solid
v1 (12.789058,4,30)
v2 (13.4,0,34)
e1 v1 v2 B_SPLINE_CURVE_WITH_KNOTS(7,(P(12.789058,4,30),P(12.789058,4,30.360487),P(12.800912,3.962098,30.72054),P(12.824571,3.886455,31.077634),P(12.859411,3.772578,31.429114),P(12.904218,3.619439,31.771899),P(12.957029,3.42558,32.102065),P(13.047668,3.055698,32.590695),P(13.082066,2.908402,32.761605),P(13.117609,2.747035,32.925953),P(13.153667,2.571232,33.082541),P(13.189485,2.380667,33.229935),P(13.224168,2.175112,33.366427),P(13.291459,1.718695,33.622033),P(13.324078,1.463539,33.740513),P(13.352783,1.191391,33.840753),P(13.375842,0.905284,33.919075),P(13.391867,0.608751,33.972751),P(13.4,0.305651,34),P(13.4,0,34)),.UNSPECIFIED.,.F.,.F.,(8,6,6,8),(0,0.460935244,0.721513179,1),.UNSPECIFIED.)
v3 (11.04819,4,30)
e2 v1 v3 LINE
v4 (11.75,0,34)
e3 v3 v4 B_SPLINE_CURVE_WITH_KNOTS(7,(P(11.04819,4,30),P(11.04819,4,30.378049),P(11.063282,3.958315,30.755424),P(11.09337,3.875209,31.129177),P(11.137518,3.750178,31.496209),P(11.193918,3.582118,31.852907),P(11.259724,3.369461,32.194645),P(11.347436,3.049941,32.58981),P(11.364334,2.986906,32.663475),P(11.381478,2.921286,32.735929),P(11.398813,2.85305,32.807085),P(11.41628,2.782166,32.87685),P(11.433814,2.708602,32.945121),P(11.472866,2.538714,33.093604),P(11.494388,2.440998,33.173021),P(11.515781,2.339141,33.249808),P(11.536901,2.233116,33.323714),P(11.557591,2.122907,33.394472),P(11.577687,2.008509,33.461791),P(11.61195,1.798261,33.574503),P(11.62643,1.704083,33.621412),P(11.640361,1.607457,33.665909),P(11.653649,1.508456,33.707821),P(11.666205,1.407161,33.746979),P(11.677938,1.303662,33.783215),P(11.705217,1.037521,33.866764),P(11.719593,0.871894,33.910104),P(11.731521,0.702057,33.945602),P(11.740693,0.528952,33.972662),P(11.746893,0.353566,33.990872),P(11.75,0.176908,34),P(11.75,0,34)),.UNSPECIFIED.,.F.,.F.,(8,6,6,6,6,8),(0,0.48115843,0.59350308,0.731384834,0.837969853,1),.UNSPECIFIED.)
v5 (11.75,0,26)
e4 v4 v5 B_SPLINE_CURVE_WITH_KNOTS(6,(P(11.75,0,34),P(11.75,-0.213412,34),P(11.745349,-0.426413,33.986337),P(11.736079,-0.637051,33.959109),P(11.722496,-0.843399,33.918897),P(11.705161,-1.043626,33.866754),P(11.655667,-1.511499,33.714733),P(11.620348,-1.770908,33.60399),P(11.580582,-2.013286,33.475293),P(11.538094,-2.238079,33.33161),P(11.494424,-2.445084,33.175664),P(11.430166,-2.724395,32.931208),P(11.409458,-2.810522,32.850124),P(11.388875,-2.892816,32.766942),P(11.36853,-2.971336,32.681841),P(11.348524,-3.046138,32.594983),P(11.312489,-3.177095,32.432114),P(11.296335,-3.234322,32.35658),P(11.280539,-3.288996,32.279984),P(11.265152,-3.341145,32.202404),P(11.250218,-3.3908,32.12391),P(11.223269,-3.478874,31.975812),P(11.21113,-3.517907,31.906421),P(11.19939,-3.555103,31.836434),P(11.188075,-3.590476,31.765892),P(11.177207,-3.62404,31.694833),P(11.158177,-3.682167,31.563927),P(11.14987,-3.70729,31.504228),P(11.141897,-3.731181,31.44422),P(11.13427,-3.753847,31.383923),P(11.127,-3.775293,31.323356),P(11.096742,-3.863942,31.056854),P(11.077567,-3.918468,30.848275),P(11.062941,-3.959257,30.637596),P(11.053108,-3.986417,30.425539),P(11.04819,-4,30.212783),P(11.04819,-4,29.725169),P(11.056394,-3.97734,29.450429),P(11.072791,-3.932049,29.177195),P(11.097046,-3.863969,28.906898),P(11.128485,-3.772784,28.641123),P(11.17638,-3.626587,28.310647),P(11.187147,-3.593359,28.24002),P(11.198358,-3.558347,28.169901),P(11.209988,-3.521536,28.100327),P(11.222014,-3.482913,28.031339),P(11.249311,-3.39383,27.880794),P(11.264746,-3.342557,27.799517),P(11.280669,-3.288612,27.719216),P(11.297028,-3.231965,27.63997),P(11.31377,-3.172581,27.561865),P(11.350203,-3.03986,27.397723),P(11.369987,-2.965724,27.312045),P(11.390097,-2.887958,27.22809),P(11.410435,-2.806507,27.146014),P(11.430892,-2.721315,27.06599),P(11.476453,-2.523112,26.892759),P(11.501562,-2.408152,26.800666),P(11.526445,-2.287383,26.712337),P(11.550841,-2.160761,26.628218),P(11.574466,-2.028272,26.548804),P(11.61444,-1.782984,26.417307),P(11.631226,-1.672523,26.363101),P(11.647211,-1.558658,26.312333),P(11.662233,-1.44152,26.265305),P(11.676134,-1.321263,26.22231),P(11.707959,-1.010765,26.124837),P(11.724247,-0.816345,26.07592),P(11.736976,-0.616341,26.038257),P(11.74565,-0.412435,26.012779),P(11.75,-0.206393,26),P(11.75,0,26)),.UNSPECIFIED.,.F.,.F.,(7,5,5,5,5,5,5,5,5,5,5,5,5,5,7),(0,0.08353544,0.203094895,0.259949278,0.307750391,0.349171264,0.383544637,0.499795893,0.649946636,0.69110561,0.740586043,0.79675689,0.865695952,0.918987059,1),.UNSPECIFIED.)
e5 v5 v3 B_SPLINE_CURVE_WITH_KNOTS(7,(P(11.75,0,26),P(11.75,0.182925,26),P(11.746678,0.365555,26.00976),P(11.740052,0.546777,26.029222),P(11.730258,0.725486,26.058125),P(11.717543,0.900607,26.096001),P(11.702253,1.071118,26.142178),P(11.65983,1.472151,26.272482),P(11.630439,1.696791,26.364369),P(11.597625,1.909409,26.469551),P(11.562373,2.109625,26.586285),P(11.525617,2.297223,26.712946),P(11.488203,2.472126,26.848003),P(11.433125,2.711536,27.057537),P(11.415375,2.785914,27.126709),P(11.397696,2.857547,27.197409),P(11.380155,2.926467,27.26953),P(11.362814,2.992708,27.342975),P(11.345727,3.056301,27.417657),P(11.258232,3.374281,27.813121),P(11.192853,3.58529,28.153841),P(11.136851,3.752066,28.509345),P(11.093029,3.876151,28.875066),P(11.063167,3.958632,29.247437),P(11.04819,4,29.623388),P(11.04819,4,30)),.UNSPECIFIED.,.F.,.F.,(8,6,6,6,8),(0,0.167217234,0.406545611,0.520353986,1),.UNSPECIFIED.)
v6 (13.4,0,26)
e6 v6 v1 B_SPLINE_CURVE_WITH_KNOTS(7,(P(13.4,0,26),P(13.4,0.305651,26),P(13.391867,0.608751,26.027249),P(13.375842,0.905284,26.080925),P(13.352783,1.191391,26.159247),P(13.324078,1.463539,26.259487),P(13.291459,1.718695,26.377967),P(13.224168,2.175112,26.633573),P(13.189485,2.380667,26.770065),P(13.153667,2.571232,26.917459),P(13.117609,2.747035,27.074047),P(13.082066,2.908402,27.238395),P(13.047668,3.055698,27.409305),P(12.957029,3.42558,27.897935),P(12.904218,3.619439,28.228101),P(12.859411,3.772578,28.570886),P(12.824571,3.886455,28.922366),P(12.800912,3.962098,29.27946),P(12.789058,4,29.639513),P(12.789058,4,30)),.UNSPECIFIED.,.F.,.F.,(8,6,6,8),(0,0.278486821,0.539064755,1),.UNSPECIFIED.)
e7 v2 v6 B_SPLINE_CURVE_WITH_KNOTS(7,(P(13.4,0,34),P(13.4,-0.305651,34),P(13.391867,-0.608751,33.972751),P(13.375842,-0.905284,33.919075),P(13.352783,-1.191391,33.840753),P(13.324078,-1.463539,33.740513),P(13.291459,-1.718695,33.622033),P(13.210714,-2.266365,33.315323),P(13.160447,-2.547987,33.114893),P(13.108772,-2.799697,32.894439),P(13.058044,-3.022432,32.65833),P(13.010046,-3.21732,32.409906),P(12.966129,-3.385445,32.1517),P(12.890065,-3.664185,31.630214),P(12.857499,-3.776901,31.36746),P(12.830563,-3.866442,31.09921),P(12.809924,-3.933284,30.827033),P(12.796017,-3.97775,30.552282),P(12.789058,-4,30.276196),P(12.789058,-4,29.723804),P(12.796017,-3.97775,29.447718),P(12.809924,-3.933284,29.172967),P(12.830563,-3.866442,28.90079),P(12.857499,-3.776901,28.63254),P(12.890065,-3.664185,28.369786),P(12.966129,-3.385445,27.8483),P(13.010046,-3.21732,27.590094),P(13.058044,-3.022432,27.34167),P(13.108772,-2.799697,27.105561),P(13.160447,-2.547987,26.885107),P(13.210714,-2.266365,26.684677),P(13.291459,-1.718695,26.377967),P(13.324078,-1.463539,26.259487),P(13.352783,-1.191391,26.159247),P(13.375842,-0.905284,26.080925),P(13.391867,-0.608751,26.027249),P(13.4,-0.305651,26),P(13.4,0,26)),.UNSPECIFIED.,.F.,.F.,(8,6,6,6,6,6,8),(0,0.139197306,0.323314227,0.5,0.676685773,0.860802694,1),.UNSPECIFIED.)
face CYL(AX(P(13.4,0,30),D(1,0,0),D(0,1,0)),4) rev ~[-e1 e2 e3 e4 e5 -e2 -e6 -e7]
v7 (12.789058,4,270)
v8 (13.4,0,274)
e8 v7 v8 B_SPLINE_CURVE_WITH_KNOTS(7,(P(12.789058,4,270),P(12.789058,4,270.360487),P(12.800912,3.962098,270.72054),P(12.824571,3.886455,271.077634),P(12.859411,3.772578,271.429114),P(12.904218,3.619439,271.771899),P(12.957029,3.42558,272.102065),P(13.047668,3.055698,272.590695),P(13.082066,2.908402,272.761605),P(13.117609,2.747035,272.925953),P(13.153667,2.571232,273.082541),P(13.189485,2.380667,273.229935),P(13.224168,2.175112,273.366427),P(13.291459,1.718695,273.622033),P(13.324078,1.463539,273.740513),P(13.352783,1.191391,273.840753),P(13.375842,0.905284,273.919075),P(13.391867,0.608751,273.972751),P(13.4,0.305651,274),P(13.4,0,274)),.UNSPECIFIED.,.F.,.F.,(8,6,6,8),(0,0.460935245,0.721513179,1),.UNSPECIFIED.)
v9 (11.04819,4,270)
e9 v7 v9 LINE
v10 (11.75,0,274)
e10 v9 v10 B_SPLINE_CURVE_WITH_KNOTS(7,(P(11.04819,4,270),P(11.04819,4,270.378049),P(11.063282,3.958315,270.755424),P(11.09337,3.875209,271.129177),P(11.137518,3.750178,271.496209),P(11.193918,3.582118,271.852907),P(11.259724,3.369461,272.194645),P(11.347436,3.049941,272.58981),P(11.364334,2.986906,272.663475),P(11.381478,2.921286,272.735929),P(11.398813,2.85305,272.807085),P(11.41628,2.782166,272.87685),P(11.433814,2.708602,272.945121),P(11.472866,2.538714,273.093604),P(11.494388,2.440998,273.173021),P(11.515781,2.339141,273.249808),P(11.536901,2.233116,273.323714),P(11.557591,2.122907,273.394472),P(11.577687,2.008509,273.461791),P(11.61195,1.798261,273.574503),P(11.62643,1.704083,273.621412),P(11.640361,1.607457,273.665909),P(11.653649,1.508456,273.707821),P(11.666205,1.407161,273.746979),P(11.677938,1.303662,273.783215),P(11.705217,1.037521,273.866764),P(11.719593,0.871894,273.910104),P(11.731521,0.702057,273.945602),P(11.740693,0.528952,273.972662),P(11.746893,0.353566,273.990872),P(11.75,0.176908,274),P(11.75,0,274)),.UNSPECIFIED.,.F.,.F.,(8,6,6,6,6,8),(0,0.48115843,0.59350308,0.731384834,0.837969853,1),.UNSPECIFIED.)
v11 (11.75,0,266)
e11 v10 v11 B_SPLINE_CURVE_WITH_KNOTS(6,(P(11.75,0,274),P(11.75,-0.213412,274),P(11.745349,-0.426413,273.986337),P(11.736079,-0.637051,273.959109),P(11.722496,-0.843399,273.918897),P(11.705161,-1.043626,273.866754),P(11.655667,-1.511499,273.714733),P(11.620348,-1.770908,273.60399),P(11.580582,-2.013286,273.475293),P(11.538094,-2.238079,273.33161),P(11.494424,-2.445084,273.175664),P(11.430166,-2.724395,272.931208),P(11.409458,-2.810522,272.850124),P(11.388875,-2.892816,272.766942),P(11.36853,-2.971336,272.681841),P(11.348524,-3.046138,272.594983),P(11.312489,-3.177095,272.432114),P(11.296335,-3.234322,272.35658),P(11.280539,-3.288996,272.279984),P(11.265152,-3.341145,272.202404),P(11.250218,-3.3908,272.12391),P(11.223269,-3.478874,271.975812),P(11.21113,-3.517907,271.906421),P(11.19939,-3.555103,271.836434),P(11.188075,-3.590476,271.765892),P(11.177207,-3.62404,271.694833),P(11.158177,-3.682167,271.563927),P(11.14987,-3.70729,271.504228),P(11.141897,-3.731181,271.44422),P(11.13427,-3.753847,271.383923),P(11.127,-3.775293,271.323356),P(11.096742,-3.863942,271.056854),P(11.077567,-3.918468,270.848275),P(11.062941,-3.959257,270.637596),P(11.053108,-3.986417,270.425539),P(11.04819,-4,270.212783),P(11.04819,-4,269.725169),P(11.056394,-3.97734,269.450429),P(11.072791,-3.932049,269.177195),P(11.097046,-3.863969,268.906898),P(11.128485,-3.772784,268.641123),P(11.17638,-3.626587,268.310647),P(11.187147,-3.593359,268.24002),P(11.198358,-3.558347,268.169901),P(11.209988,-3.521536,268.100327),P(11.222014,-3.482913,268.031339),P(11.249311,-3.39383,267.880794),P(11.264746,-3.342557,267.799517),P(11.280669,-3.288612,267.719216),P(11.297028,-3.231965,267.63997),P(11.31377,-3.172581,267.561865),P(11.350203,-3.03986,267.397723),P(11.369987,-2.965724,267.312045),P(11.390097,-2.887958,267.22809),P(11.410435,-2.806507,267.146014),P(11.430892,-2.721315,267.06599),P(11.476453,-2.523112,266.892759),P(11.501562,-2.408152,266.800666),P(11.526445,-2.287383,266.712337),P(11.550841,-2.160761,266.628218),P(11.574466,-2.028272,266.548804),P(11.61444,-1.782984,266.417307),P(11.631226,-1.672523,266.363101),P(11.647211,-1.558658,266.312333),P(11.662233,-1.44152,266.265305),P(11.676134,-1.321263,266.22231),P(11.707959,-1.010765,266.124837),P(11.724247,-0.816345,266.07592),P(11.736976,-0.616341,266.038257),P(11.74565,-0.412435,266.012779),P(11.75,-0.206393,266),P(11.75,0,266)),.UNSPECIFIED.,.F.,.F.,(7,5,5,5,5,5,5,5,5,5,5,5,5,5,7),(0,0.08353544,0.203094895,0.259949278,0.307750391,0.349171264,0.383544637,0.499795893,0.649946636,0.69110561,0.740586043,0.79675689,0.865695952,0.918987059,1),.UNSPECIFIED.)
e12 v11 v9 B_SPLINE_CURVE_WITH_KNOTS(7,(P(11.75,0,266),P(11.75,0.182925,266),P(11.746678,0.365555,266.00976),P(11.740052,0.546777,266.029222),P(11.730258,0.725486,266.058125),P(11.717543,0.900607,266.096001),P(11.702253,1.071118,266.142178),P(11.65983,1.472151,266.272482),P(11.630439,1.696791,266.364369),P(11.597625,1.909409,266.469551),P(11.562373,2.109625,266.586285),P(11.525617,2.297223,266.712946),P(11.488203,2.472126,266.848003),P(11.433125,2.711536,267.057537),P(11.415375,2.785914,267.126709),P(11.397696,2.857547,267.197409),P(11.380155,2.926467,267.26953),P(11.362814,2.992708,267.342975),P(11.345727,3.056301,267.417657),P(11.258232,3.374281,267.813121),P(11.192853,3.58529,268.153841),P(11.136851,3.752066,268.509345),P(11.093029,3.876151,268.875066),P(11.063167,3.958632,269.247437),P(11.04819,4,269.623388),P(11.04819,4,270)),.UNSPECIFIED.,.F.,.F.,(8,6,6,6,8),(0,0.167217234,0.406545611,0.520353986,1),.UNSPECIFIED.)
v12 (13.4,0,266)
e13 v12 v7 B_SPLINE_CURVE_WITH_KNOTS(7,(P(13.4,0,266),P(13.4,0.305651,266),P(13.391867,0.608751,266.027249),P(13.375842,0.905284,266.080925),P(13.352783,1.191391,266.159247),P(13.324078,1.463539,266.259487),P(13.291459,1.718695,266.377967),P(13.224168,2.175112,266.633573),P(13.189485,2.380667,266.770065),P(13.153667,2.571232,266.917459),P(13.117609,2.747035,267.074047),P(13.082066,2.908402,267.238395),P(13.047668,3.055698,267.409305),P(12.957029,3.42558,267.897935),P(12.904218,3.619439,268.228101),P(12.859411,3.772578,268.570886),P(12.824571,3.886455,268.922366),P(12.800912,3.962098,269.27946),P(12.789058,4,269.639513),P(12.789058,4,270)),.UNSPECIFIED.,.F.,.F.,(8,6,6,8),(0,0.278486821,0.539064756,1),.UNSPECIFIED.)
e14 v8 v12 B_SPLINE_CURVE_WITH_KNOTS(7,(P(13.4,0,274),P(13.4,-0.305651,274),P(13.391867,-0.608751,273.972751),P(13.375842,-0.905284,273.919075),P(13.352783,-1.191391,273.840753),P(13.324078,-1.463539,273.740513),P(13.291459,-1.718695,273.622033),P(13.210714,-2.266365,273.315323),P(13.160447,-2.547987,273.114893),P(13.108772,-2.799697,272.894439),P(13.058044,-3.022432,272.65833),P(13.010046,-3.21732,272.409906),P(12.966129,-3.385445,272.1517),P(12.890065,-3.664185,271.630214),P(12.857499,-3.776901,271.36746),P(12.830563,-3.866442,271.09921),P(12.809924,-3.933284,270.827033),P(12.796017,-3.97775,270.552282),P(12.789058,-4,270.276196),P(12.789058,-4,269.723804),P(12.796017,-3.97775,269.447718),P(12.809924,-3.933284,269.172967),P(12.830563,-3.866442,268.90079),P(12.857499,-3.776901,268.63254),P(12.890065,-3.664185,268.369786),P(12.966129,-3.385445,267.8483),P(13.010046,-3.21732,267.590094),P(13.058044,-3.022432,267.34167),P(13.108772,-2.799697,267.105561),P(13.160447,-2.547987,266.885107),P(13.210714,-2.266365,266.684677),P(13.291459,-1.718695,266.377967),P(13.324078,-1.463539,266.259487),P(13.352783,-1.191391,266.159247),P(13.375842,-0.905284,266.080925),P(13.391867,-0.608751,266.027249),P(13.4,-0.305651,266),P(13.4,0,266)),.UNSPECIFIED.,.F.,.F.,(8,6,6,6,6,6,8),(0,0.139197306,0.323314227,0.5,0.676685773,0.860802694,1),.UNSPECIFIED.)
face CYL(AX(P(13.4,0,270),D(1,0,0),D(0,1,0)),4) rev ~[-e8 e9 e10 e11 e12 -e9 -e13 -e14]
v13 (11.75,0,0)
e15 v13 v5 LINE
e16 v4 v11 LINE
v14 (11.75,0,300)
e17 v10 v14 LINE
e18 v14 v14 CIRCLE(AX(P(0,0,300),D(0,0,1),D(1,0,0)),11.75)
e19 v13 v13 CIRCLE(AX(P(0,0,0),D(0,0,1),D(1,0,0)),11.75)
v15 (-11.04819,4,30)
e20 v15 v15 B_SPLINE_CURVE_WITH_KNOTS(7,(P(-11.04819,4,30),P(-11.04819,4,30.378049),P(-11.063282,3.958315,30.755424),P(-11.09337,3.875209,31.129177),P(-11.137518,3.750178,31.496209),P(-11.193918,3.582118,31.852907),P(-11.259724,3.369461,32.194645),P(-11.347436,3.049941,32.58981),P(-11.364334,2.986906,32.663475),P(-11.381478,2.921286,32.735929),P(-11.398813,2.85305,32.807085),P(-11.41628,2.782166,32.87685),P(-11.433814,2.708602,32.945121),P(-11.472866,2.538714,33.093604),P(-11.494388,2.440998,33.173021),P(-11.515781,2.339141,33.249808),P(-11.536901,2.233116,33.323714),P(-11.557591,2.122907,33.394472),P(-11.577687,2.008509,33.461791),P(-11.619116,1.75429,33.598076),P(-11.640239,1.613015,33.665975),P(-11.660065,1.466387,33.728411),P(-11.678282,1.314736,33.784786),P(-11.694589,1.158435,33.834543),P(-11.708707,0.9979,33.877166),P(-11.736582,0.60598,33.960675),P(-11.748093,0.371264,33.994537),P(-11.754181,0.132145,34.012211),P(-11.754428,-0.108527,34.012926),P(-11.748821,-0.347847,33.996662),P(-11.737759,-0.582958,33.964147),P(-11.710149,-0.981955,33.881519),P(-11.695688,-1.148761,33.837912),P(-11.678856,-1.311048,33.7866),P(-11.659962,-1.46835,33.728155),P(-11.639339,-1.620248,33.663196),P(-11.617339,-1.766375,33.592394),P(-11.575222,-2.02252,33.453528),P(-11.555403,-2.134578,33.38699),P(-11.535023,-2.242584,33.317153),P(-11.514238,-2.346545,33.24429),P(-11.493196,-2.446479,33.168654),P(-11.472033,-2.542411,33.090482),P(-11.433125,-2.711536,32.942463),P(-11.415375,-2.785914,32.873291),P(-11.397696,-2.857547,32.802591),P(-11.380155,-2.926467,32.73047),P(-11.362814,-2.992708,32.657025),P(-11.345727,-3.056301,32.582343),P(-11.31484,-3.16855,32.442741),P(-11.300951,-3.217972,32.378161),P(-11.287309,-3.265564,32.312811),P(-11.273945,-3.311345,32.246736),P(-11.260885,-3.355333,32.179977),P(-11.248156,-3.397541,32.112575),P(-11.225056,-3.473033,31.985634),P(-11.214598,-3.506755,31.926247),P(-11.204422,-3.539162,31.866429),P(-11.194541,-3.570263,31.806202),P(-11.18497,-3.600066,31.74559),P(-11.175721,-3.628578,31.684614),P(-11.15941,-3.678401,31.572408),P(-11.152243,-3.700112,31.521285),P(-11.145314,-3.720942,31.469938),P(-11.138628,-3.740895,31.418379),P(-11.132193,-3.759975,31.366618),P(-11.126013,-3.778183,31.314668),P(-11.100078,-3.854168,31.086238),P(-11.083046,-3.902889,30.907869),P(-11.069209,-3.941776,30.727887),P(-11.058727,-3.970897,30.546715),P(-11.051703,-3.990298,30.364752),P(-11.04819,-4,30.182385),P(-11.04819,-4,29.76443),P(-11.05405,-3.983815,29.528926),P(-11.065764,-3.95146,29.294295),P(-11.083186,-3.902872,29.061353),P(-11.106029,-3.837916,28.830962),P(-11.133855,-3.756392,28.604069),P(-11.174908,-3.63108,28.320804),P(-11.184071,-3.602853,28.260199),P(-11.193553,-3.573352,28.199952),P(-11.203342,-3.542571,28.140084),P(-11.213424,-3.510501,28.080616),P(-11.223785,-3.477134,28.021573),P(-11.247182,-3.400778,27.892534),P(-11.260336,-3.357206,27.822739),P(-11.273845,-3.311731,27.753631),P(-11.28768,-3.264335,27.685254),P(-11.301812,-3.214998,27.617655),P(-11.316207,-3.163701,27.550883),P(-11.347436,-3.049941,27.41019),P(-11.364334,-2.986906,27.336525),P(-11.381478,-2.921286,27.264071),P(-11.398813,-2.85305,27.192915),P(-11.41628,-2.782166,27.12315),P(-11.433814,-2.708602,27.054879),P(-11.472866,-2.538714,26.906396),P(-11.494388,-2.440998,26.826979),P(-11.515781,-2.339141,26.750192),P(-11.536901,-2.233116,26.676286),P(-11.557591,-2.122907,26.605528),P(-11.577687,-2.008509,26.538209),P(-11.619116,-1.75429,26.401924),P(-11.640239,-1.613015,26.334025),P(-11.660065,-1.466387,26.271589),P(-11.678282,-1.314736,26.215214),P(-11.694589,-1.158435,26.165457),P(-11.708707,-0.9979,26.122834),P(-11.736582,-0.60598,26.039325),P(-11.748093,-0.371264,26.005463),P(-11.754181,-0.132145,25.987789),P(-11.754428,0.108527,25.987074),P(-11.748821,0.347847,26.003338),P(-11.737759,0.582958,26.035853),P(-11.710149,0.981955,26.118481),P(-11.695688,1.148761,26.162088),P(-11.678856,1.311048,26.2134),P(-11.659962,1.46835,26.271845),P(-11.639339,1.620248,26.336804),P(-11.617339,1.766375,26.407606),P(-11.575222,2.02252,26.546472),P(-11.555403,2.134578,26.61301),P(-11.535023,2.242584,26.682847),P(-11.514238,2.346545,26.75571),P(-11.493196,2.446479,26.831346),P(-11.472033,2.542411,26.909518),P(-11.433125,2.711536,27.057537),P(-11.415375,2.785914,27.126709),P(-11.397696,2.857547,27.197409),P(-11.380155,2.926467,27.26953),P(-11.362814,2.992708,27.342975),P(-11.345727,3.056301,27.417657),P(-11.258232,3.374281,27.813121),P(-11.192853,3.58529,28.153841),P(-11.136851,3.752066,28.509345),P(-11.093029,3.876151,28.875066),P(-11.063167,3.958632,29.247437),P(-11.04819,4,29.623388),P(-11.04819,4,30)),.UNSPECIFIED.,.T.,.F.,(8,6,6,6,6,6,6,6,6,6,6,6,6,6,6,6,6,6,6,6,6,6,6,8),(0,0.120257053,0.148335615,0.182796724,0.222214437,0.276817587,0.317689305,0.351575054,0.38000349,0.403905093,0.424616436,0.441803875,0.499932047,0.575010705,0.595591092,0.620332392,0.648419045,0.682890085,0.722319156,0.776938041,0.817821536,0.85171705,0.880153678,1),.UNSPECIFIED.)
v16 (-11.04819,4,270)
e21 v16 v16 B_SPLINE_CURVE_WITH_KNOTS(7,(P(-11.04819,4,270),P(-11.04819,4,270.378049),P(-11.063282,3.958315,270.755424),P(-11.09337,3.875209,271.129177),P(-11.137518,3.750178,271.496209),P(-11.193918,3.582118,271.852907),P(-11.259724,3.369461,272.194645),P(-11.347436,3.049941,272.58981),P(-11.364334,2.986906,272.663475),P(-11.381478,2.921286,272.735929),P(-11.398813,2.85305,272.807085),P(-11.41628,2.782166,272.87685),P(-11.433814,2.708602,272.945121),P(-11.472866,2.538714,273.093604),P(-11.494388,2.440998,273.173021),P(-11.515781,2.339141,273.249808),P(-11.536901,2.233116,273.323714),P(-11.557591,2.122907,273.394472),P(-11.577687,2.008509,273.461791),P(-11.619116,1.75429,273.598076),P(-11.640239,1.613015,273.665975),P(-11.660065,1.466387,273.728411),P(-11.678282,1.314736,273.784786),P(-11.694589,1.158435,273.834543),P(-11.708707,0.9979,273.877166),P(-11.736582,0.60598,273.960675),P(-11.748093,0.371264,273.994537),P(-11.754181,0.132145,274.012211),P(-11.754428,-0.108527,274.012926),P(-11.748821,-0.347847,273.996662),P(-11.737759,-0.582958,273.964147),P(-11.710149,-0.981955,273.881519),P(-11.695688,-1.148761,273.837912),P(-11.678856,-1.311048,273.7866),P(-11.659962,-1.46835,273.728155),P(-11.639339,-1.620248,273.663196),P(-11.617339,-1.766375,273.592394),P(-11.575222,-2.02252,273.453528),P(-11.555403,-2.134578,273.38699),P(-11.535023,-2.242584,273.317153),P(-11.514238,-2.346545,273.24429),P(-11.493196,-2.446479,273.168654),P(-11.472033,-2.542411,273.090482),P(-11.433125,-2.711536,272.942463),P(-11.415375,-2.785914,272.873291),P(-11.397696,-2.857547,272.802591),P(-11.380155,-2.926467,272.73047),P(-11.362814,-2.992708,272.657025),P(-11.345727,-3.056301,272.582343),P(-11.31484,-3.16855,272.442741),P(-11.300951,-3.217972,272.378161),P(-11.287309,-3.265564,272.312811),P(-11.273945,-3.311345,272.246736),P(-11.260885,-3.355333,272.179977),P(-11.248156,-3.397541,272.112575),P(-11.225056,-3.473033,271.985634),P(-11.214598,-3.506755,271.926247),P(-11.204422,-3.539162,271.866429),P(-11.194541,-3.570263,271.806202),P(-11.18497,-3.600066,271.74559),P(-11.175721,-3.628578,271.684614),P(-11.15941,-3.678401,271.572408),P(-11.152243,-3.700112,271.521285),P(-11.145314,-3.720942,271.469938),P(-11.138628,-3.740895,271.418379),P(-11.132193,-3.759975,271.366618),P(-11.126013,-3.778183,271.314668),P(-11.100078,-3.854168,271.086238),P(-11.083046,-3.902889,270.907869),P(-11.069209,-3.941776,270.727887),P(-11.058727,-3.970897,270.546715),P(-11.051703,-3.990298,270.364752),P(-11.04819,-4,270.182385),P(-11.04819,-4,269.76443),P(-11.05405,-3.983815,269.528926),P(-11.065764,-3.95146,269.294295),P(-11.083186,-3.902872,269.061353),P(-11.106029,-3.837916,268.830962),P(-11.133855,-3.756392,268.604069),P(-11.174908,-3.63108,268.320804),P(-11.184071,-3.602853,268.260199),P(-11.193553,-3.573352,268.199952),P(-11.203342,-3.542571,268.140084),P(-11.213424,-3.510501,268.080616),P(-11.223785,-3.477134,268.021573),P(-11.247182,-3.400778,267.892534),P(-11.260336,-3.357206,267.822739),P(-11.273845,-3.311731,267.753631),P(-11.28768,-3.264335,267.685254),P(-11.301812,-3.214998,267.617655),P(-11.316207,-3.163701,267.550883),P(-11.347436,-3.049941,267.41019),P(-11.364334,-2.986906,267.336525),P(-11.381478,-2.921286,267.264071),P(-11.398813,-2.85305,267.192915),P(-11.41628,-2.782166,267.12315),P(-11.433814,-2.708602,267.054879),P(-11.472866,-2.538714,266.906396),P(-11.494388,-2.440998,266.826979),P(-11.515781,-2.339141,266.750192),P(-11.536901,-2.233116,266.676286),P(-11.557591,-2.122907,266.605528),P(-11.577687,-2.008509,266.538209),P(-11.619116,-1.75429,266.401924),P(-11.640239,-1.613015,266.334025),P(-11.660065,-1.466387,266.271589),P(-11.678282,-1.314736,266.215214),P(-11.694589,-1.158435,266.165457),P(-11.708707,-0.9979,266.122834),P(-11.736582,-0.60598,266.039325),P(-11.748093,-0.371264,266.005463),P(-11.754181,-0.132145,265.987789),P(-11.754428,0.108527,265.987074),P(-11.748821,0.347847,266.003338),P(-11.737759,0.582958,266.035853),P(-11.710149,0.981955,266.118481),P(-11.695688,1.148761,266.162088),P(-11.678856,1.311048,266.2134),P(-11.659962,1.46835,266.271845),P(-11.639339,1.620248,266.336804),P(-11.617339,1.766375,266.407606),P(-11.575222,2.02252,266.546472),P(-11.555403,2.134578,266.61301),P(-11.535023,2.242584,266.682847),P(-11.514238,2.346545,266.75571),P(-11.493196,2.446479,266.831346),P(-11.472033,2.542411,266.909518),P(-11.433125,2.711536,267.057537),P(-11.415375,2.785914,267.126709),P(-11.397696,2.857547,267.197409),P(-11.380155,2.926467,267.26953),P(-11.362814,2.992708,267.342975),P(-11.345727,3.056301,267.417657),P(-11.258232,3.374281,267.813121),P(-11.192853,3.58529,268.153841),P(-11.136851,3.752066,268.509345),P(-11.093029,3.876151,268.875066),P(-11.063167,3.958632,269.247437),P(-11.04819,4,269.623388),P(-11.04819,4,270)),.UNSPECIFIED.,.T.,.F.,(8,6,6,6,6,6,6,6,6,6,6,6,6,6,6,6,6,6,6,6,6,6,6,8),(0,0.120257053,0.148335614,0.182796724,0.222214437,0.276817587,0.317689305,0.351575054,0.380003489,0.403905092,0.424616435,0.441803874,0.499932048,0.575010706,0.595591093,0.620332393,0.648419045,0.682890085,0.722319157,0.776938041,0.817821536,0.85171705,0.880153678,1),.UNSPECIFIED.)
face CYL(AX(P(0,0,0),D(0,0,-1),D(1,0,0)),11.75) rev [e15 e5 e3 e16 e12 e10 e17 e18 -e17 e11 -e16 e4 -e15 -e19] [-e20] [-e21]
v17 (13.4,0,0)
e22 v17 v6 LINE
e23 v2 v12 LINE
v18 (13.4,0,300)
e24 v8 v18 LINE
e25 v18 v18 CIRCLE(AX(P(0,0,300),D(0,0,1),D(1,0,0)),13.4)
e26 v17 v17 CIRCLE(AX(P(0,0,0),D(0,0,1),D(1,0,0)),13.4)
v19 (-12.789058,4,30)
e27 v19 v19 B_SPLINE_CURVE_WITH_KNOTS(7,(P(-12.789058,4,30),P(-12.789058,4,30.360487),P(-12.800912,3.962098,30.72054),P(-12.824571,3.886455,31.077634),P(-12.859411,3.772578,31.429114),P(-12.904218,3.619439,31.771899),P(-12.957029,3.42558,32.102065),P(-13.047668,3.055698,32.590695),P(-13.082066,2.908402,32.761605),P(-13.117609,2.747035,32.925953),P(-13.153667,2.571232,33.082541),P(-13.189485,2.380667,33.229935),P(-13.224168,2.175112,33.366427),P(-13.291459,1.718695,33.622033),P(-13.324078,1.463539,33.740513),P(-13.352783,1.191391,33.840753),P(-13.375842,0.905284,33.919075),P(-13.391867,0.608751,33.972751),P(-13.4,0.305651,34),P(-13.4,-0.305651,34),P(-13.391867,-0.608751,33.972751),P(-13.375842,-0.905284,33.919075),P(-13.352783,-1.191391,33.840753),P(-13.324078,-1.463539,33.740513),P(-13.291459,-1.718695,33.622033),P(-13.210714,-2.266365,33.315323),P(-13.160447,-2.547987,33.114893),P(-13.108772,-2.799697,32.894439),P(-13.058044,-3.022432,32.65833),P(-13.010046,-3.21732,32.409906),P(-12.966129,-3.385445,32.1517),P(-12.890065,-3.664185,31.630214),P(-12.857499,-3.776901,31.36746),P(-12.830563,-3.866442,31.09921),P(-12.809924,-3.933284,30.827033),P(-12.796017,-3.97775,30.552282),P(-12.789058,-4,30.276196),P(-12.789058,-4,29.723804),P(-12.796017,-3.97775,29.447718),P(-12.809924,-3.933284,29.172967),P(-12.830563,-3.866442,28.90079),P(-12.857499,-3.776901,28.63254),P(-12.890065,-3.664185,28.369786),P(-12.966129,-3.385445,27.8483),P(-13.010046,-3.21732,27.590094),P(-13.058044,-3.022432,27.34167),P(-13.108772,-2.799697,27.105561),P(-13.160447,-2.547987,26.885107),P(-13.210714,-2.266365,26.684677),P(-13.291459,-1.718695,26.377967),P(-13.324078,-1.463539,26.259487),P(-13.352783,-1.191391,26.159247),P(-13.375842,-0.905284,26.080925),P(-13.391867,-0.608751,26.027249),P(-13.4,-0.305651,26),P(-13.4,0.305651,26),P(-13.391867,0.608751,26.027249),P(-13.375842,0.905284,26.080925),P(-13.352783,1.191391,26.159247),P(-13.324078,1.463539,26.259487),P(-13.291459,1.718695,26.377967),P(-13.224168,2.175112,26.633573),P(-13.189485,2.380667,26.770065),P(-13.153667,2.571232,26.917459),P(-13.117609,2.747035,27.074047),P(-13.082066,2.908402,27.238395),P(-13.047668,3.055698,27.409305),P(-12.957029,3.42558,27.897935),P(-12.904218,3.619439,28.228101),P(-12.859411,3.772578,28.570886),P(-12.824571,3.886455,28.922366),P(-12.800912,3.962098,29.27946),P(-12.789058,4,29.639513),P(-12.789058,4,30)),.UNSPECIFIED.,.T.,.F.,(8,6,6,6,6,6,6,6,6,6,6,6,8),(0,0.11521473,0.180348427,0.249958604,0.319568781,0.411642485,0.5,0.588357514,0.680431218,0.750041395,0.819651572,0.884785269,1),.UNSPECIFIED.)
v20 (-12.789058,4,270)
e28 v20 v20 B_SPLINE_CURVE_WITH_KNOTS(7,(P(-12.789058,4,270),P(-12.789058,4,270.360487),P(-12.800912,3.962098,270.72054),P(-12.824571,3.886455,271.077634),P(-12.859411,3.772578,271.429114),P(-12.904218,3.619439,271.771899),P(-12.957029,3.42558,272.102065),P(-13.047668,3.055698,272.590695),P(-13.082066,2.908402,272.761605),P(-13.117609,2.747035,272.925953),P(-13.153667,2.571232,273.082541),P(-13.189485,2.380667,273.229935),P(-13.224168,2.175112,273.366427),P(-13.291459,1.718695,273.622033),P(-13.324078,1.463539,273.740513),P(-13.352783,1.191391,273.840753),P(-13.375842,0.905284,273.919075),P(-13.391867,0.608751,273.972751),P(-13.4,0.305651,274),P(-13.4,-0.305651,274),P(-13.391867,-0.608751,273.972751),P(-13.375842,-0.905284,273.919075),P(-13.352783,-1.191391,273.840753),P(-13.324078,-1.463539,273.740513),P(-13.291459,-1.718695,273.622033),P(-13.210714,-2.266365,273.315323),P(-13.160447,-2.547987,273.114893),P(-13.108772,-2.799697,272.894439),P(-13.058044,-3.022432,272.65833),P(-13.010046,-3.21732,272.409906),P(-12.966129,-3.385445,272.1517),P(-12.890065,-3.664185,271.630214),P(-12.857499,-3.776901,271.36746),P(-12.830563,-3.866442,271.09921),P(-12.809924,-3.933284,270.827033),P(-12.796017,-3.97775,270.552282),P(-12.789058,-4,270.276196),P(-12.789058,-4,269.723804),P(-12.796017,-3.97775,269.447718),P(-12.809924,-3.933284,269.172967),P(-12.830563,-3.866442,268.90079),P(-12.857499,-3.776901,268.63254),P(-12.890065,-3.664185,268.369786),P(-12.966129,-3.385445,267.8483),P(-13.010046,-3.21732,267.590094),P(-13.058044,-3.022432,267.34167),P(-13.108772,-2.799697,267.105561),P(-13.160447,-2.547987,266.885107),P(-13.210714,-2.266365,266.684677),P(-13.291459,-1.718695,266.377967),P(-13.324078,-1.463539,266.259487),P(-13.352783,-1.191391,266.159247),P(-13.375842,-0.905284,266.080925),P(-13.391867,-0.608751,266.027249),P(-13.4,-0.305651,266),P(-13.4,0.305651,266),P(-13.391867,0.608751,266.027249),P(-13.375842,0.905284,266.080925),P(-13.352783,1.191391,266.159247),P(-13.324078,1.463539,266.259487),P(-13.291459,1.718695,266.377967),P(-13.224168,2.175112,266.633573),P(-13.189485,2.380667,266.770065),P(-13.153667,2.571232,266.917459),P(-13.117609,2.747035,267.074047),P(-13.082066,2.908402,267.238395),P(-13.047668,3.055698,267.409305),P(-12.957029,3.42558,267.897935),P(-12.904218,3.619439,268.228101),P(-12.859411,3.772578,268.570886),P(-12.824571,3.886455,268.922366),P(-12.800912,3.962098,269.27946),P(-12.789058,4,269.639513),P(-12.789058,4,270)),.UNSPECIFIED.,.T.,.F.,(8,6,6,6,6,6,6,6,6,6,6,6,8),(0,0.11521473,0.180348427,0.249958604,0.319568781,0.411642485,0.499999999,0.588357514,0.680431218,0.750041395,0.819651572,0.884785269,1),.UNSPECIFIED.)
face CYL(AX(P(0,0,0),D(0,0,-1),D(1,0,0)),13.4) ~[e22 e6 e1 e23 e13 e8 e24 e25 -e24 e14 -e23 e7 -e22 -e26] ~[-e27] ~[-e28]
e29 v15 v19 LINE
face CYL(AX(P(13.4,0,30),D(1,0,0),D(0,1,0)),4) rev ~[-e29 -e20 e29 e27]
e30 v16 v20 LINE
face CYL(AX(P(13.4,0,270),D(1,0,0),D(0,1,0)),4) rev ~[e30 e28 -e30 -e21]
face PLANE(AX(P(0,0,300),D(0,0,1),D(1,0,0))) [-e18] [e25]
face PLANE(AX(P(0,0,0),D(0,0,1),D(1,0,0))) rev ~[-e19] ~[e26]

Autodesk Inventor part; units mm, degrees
ref_plane "XZ Plane" through (0, 0, 0) normal (0, 1, 0) x (-1, 0, 0)
ref_plane "XY Plane" through (0, 0, 0) normal (0, 0, 1) x (1, 0, 0)
sketch "Sketch1" plane through (0, 0, 0) normal (0, 0, 1) x (1, 0, 0)
  circle A0 centre (0, 0) radius 13.4
  circle A1 centre (0, 0) radius 11.75
  dimension "d0" = 26.8
  dimension "d3" = 23.5
extrude "Extrusion1" add sketch "Sketch1" along normal blind 300
ref_plane "Work Plane1" through (13.4, 0, 0) normal (1, 0, 0) x (0, 1, 0)
sketch "Sketch2" plane through (13.4, 0, 0) normal (1, 0, 0) x (0, 1, 0)
  circle A0 centre (0, 30) radius 4
  line L0 (0, -60) -> (0, 360) projected
  line L1 (13.4, 0) -> (-13.4, 0) projected
  circle A1 centre (0, 270) radius 4
  line L2 (13.4, 300) -> (-13.4, 300) projected
  point P0 (0, 0)
  dimension "d4" = 8
  dimension "d5" = 30
  dimension "d6" = 8
  dimension "d7" = 30
extrude "Extrusion2" cut sketch "Sketch2" against normal through all
equation "\"d0\" = PVC_out"
equation "\"d3\" = PVC_in"
equation "\"PVC_out\" = 26.8"
equation "\"PVC_in\" = 23.5"
properties part number "Steering PVC" material "PVC-Piping"
